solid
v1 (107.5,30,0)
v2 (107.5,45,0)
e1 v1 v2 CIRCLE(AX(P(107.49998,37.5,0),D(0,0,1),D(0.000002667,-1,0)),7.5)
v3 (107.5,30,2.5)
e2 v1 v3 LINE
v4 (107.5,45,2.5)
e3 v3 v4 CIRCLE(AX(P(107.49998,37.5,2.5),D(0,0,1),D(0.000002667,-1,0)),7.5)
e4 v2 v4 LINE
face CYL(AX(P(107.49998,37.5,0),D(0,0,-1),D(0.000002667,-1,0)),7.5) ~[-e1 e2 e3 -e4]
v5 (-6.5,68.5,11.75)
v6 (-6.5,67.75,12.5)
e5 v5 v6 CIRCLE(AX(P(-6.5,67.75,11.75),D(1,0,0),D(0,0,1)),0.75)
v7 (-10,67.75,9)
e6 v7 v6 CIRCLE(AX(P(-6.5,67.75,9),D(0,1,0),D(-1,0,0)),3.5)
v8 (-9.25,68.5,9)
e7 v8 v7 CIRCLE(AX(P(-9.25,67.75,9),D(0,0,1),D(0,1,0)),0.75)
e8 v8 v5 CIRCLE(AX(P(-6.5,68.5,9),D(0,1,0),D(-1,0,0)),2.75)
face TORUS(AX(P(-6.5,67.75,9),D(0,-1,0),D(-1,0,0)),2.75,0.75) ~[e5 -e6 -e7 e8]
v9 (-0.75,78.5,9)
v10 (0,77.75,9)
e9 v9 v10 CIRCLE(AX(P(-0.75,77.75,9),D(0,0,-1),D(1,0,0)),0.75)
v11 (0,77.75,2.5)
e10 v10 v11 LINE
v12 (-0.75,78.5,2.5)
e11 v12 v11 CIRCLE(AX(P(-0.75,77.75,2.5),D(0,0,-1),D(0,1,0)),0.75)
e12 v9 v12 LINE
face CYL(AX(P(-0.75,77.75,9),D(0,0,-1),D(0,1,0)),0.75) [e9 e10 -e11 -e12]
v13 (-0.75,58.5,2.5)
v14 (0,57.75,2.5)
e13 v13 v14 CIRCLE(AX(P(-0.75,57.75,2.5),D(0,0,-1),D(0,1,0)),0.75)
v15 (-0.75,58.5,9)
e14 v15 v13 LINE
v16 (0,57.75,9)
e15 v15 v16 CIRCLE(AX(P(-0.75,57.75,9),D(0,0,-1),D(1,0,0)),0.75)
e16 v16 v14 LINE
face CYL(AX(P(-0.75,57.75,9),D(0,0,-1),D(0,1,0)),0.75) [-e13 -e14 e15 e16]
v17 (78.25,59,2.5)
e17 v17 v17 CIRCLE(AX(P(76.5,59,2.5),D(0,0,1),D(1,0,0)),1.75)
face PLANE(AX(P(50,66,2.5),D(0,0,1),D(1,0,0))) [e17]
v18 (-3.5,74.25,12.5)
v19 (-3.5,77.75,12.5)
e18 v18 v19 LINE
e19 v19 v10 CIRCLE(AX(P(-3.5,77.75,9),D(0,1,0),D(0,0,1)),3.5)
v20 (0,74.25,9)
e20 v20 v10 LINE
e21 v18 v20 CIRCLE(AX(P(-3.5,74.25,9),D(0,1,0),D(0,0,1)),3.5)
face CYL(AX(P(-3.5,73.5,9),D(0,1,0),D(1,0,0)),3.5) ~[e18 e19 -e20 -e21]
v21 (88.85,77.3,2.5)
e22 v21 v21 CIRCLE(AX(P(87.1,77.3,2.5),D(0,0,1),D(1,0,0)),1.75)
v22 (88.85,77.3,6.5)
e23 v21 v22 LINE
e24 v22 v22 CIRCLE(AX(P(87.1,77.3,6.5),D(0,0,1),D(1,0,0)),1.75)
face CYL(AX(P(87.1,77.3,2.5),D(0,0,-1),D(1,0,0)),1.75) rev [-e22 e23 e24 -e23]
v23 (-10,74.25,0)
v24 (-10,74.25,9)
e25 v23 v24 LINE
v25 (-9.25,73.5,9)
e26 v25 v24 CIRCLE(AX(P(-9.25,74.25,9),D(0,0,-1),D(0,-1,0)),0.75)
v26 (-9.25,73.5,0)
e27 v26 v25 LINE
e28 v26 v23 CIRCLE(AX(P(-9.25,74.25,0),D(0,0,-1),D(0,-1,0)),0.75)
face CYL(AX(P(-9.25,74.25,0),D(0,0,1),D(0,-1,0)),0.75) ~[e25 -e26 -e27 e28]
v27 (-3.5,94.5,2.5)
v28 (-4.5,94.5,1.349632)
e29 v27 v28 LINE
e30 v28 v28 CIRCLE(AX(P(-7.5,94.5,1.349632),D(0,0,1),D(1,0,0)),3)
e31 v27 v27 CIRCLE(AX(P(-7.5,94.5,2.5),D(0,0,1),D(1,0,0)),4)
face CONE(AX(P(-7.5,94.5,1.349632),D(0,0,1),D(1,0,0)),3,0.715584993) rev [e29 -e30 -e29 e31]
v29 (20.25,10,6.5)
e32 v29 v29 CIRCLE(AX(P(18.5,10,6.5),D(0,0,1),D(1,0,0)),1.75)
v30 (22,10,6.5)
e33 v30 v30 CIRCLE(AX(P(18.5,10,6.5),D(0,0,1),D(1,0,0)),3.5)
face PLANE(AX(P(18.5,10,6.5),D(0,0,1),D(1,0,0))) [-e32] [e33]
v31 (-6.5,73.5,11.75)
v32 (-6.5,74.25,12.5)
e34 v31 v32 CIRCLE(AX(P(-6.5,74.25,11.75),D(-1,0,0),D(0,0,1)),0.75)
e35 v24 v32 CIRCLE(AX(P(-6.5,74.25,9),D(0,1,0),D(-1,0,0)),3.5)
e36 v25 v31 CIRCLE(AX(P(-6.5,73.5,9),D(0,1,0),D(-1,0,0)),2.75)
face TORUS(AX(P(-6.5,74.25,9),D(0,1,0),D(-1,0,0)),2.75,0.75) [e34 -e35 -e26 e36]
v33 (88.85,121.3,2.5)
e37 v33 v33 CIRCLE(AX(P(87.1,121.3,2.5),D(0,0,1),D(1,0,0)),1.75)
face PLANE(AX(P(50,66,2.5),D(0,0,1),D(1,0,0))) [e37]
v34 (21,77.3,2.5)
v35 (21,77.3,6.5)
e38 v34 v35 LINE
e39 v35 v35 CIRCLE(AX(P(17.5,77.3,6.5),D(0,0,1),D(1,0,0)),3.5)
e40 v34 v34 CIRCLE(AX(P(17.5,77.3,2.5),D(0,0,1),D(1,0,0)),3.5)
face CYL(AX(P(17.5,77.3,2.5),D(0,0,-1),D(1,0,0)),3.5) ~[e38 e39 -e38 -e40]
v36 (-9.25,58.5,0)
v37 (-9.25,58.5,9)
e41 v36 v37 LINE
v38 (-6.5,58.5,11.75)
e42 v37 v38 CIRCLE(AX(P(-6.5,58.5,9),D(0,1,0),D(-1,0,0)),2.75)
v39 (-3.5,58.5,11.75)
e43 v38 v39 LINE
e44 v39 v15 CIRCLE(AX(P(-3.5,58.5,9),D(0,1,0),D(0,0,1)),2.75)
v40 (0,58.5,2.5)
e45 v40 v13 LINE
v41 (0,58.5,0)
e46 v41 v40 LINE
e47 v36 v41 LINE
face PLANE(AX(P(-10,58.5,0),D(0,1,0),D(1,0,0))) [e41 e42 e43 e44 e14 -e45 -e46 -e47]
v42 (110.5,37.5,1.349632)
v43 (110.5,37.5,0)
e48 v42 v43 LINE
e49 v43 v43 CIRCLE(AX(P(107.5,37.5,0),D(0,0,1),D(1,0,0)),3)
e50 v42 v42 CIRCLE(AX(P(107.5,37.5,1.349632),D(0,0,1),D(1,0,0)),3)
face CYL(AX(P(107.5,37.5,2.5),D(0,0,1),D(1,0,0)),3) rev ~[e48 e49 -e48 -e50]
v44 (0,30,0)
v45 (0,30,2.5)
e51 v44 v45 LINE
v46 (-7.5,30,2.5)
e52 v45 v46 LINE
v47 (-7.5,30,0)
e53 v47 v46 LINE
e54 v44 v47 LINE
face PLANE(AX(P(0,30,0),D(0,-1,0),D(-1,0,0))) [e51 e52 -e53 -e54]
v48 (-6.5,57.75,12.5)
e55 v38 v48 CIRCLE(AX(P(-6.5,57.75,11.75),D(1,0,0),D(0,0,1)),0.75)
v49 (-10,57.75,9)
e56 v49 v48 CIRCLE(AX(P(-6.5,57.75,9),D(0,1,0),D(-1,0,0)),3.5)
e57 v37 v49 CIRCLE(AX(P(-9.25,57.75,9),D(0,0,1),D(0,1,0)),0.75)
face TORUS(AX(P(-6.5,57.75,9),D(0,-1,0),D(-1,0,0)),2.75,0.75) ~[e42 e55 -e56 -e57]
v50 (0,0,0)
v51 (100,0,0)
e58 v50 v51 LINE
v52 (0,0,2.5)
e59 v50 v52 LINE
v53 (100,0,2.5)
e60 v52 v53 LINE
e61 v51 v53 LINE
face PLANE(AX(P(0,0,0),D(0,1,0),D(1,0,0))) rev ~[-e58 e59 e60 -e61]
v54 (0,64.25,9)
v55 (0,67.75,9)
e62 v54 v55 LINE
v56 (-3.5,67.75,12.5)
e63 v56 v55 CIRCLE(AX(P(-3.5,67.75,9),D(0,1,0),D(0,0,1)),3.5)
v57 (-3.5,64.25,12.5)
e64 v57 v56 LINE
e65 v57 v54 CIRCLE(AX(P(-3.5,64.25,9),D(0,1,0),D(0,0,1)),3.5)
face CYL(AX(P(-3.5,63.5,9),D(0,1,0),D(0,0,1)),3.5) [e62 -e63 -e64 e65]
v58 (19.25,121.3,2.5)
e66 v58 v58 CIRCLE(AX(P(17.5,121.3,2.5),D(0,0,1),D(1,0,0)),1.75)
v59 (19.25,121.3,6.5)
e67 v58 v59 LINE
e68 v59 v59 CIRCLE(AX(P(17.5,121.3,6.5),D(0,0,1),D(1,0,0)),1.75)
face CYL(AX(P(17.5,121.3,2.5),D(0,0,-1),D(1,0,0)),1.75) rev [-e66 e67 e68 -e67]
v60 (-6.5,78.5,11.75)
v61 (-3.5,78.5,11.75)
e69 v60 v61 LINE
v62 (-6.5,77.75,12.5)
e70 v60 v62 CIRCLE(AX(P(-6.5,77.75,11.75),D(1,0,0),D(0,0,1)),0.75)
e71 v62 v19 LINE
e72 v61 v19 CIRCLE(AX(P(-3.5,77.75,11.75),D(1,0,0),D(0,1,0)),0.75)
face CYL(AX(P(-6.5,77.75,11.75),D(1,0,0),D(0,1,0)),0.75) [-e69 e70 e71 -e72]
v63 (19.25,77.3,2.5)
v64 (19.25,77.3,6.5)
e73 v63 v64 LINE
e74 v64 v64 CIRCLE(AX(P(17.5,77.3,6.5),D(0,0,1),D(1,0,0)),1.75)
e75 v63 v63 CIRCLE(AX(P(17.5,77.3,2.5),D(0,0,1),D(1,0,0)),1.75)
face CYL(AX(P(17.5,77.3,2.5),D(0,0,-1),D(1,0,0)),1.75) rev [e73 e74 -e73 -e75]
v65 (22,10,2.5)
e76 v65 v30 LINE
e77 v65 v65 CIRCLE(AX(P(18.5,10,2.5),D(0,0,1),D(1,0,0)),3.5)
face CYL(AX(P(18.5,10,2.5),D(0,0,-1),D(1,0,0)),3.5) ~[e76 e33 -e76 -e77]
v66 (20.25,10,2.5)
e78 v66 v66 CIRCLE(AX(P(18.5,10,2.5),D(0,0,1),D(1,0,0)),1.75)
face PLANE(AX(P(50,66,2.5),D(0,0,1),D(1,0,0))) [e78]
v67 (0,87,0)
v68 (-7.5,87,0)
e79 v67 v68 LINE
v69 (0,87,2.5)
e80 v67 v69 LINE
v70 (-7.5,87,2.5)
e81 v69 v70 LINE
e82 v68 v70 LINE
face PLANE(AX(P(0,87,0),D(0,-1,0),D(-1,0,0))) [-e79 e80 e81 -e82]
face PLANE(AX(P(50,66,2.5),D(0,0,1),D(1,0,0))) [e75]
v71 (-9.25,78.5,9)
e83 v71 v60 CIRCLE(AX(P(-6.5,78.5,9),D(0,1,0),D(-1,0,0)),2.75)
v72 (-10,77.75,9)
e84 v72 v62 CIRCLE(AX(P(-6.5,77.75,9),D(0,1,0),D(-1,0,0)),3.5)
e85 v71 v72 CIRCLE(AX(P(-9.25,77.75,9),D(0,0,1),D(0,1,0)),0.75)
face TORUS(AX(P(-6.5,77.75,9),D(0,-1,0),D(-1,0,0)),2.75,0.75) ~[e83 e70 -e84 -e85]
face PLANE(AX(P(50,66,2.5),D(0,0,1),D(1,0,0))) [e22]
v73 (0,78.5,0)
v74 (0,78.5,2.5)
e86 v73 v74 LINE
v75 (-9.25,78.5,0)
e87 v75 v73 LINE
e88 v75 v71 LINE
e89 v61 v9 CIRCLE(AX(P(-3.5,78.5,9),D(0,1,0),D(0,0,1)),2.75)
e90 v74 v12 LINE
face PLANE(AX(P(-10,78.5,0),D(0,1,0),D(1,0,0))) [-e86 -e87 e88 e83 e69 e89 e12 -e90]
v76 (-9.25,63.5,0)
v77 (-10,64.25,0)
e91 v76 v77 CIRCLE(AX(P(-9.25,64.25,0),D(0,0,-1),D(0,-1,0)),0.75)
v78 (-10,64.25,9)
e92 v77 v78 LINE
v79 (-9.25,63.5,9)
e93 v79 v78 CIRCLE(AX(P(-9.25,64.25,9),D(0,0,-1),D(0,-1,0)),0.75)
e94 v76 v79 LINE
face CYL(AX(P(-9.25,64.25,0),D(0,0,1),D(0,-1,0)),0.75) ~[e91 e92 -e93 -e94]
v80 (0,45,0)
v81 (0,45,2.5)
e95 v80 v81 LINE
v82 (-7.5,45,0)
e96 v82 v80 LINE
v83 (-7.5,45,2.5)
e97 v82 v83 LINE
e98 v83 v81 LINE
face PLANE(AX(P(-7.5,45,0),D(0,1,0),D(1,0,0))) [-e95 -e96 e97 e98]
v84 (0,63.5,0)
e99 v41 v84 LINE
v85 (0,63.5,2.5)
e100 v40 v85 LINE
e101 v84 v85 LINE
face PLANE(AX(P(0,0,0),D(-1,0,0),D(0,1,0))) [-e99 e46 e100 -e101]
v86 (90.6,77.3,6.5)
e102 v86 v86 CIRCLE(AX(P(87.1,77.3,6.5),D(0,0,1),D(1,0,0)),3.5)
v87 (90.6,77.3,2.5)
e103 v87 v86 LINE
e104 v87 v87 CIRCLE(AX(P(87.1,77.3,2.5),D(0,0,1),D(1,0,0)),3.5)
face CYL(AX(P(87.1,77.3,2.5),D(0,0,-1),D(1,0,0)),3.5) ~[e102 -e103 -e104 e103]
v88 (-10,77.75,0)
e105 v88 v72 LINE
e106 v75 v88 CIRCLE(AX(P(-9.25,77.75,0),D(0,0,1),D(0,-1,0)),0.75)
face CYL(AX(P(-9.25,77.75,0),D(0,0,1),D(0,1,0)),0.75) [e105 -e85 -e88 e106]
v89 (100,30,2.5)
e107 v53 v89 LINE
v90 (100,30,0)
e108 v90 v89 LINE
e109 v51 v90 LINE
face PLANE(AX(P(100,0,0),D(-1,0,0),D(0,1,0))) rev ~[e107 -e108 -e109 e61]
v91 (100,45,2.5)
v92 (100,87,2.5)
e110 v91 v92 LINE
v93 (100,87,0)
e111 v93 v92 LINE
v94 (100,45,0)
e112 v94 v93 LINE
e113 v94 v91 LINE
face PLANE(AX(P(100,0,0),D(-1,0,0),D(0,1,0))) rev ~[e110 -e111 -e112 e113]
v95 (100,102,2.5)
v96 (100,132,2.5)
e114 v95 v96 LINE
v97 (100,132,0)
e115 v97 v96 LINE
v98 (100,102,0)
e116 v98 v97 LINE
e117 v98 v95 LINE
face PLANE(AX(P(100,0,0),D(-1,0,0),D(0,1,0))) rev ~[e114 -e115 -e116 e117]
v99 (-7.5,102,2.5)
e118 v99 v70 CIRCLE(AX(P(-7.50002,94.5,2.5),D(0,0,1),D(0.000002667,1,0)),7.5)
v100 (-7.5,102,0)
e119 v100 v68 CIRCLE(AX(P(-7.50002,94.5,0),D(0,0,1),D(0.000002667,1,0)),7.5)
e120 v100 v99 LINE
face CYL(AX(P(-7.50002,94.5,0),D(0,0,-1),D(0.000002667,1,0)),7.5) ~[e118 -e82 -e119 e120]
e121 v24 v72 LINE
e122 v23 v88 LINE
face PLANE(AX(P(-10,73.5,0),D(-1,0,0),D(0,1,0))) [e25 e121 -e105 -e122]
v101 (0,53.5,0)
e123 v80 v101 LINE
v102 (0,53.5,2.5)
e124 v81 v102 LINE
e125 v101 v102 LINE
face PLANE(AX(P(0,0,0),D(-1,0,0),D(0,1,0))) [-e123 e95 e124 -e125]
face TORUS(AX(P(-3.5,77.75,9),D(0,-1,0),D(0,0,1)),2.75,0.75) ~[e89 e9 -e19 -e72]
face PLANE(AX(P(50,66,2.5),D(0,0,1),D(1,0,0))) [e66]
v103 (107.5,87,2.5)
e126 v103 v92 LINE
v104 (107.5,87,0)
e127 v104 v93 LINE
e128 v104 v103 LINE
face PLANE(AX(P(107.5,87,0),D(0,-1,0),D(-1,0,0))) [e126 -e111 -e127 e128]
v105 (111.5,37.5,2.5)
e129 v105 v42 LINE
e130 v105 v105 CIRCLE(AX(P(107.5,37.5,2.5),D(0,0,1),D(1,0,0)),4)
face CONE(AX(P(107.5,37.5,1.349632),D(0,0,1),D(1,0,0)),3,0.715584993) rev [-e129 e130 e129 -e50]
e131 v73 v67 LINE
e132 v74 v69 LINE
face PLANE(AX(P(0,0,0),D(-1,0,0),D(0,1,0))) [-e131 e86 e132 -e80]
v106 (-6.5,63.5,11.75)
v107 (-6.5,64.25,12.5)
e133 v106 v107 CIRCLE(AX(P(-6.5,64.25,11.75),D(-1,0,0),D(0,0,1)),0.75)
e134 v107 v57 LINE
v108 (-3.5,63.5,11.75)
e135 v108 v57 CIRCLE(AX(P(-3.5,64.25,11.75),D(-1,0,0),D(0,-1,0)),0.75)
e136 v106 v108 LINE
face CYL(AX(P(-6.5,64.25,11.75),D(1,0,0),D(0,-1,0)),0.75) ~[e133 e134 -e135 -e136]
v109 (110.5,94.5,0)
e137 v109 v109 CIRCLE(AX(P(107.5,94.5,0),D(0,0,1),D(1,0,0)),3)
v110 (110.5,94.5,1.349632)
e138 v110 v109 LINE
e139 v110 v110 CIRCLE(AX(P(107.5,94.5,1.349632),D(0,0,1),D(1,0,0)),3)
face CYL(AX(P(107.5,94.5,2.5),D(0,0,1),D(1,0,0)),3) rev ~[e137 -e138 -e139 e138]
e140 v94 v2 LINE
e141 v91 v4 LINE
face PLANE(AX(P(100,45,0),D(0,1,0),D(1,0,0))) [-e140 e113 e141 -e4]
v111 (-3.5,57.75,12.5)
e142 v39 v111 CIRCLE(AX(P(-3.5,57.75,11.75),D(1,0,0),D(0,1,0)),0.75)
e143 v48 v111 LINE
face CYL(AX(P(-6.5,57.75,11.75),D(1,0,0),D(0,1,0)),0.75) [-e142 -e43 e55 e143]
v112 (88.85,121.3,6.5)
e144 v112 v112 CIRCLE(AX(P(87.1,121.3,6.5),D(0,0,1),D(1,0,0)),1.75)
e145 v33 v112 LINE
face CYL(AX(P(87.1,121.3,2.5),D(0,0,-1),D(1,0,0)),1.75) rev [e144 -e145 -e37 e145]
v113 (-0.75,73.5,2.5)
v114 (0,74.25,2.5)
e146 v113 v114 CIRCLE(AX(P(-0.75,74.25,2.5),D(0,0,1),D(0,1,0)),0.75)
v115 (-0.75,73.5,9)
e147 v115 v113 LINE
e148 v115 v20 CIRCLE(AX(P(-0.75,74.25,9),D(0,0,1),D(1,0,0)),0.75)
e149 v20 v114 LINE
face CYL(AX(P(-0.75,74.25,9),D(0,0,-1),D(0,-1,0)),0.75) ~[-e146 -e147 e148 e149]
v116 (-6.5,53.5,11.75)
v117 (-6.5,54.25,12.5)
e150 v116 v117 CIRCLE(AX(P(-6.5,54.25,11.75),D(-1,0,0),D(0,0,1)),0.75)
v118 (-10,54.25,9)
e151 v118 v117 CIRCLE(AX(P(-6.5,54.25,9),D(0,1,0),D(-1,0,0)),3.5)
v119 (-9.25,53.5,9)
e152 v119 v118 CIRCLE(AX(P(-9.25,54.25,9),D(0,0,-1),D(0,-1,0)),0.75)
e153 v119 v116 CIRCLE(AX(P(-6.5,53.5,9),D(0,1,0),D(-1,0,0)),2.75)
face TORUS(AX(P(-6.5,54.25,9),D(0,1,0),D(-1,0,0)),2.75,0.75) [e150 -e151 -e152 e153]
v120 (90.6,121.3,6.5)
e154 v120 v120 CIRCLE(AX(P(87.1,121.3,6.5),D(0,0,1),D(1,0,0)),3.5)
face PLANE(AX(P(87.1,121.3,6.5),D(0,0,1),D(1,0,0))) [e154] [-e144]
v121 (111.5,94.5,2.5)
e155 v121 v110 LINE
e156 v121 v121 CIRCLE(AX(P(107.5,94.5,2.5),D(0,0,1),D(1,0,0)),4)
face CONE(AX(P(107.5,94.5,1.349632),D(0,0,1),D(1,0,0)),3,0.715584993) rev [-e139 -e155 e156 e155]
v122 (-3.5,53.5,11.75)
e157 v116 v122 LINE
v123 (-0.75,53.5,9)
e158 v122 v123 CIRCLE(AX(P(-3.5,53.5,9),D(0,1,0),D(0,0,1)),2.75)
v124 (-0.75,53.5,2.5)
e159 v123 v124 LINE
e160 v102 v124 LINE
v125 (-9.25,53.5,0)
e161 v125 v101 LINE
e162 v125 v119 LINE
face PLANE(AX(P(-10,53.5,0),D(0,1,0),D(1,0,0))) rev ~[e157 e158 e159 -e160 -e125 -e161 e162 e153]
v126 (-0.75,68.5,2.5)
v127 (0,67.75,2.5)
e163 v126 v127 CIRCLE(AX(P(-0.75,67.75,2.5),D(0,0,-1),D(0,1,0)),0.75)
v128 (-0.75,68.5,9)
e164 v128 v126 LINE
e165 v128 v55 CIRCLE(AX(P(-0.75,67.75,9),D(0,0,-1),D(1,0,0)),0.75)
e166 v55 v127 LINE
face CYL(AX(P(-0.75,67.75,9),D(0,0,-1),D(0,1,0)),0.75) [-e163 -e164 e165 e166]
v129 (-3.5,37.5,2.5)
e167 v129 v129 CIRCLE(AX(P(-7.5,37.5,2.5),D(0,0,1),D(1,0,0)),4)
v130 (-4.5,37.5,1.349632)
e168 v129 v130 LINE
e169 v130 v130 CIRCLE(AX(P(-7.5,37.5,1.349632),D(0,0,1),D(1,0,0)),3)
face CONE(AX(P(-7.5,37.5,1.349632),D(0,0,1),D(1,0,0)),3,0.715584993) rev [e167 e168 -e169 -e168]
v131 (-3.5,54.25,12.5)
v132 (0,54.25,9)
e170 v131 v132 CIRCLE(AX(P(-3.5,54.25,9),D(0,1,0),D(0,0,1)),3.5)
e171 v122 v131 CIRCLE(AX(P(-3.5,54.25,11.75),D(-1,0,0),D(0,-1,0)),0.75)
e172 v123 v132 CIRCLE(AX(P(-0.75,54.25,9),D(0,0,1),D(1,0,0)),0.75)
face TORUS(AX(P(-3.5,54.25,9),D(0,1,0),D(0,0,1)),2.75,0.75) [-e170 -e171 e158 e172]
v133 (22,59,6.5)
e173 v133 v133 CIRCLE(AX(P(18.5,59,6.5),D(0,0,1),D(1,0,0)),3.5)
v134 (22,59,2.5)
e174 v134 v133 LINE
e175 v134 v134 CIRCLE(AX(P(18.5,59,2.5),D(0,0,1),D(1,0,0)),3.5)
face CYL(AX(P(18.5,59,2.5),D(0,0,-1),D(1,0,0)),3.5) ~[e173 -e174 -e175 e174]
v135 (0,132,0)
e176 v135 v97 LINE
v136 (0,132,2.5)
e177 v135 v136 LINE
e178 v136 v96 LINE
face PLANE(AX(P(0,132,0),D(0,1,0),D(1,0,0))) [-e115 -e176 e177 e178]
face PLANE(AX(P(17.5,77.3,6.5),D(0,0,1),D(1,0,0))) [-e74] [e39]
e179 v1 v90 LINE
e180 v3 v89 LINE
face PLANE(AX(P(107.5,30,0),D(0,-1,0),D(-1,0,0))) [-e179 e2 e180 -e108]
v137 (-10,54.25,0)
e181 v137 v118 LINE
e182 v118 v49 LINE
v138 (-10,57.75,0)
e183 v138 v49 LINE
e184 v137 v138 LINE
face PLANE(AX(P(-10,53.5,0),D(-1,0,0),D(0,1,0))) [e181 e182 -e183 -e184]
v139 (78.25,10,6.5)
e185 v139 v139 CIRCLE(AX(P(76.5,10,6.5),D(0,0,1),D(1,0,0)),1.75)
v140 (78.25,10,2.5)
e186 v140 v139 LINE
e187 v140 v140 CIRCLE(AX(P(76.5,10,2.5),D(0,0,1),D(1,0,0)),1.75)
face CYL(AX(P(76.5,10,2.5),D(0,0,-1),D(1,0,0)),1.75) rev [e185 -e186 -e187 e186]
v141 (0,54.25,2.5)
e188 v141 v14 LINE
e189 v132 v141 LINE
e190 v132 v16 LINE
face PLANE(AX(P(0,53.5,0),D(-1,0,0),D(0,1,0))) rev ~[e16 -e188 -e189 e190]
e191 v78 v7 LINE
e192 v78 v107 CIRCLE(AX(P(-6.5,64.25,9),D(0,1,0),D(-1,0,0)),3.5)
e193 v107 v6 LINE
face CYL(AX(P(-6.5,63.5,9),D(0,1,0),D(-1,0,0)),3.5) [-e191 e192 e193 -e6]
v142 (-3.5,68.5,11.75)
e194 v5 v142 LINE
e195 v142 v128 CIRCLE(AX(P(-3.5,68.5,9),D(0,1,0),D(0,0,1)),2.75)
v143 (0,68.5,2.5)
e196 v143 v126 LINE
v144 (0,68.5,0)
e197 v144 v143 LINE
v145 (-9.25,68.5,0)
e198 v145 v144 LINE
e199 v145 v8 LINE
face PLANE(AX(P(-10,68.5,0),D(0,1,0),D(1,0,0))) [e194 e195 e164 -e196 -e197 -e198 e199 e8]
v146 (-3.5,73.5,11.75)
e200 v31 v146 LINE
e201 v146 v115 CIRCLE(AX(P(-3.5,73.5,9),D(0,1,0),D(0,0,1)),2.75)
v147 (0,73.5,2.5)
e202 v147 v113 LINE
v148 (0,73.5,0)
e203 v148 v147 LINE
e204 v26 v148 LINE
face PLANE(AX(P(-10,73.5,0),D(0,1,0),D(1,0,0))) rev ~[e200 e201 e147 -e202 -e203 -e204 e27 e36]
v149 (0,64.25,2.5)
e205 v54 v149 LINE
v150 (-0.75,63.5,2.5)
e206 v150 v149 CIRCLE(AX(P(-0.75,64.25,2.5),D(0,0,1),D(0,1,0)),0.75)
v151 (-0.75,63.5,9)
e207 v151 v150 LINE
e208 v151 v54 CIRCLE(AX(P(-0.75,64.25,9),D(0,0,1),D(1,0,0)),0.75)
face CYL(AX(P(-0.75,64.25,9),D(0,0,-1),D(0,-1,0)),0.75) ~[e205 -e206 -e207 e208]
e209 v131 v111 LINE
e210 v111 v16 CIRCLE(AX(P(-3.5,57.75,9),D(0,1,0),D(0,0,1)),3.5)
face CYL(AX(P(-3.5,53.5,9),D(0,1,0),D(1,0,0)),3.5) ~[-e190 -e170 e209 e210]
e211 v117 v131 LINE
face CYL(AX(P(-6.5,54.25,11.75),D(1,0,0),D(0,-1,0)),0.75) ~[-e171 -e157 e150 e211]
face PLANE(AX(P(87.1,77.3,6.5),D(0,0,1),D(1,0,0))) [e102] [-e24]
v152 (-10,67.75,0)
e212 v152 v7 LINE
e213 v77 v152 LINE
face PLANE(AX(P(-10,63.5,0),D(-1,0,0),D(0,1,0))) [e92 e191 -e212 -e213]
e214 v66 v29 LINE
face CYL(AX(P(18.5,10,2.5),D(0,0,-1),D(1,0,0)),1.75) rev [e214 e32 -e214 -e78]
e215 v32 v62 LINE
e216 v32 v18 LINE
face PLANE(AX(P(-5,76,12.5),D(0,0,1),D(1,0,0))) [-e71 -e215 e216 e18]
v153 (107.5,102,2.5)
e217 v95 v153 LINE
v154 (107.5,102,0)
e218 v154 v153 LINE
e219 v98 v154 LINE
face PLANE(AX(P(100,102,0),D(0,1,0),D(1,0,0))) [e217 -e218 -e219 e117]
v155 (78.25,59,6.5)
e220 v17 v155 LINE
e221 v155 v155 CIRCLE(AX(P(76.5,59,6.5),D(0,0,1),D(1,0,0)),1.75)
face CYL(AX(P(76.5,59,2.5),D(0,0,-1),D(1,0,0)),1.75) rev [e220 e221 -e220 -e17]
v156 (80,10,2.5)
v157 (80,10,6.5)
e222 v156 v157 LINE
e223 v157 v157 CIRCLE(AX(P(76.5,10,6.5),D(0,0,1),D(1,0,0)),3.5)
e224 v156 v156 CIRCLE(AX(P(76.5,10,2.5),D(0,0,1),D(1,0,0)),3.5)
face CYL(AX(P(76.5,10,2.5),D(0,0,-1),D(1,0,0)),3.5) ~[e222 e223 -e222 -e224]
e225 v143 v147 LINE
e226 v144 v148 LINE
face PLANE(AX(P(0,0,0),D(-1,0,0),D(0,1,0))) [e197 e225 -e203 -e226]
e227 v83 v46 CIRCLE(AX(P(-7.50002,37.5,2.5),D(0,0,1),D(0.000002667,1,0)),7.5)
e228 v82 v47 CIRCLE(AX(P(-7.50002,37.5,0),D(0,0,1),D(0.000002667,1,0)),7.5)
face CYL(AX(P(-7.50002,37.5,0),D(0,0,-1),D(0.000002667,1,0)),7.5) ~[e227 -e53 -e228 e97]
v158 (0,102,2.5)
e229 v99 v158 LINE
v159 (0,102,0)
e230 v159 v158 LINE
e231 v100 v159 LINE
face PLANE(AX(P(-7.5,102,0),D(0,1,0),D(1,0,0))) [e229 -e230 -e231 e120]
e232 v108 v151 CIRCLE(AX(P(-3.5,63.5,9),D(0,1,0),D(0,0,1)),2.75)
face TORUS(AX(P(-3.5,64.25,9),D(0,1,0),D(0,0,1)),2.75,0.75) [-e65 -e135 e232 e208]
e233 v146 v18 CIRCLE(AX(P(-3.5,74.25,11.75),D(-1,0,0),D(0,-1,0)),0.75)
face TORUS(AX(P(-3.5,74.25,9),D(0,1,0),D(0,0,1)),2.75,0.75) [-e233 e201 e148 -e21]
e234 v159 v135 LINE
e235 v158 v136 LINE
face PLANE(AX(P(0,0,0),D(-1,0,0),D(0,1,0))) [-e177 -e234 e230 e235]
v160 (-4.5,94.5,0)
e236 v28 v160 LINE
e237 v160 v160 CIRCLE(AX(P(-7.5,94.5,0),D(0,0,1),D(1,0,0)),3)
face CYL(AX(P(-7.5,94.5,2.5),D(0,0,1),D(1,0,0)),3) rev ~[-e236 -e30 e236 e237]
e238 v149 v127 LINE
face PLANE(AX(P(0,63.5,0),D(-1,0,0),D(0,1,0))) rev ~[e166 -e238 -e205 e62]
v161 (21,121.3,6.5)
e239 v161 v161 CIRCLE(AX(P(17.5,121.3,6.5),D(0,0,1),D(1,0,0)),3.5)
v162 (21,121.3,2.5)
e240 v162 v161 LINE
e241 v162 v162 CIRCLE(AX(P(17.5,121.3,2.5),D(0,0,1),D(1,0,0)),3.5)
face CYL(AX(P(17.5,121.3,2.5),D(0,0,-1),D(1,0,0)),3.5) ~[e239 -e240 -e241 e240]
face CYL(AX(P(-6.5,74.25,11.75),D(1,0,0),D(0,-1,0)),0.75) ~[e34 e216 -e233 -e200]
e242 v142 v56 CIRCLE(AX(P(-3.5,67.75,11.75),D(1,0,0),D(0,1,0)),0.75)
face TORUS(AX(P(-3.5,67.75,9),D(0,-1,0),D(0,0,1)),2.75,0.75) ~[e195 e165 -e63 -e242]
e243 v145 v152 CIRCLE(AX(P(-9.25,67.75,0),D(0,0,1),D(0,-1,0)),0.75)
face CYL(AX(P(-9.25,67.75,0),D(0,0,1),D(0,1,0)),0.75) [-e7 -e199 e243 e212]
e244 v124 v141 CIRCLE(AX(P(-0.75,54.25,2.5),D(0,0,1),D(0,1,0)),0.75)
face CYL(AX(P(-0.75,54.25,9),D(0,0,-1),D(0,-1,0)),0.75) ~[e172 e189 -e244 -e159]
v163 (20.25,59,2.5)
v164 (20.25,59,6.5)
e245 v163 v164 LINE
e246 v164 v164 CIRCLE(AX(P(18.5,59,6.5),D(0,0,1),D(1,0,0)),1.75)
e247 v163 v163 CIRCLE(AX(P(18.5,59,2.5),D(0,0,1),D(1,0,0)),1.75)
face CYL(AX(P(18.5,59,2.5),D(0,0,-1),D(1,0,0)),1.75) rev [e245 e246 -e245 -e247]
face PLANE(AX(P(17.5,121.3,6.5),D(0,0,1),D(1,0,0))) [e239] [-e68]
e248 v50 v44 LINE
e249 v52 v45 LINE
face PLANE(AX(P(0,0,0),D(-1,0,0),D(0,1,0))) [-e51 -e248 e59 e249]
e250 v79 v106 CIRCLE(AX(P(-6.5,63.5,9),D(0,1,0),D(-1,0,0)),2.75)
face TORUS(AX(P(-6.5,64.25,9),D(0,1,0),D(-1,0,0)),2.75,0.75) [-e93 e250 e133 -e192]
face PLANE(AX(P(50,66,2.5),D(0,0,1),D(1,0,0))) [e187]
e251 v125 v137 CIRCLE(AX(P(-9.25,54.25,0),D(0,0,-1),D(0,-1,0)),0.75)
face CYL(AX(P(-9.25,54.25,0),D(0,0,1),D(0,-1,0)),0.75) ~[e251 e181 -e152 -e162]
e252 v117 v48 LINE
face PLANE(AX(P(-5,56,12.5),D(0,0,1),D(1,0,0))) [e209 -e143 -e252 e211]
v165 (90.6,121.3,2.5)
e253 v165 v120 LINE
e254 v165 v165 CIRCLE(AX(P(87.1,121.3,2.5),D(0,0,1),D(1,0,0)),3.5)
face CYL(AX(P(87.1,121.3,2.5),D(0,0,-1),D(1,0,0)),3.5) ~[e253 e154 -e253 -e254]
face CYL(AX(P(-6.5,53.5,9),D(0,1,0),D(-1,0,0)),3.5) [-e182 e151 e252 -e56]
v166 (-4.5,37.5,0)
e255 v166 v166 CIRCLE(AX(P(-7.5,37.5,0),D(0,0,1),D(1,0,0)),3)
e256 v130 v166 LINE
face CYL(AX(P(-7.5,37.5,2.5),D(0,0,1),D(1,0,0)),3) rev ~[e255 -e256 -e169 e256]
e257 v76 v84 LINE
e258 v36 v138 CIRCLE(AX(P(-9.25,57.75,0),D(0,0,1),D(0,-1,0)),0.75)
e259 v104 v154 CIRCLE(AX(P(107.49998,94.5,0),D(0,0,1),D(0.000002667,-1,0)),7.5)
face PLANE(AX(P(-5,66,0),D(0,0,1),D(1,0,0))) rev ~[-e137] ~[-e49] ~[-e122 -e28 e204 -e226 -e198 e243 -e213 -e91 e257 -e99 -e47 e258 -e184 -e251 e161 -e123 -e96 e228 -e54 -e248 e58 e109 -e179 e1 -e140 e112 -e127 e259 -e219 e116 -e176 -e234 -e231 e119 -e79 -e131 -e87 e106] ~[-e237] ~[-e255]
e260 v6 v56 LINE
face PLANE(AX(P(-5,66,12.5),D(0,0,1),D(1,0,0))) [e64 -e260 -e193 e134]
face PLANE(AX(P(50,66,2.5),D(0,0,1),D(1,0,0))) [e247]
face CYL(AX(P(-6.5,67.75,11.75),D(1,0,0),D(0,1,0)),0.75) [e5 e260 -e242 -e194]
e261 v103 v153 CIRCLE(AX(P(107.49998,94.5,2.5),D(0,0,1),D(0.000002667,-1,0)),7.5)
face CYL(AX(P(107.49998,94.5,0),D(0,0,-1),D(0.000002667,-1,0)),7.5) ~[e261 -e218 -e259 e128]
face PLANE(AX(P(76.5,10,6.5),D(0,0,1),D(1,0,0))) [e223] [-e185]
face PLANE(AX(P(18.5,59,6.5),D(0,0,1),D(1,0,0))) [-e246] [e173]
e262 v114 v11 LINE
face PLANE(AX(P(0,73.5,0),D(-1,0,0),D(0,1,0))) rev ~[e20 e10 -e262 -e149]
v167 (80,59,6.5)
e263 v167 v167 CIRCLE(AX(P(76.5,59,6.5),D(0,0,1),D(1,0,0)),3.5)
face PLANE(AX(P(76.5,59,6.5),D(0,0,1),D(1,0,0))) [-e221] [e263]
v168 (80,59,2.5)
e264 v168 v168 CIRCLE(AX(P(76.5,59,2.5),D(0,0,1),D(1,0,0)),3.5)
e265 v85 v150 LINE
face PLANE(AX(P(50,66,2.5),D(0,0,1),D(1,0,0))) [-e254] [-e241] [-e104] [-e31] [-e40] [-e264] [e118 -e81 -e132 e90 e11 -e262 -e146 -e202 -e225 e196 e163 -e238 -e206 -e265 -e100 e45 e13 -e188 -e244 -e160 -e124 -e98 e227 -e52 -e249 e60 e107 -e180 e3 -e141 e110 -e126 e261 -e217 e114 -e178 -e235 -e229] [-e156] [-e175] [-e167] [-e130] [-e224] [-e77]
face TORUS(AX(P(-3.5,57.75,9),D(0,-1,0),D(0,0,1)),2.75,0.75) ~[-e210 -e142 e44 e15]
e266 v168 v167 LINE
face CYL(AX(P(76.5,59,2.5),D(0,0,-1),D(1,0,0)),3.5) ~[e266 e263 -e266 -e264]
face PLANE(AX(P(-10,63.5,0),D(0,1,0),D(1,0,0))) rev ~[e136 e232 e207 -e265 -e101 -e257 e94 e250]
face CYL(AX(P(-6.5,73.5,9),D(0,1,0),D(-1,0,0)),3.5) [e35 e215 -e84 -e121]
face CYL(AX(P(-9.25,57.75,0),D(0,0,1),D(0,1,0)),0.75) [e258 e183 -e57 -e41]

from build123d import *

# Parameters (mm, degrees)
SKETCH001_W     = 100
SKETCH001_H     = 132
PAD_DEPTH       = 2.5
SKETCH002_R     = 3.5
SKETCH002_R_2   = 1.75
PAD001_DEPTH    = 4
PAD002_DEPTH    = 2.5
SKETCH004_R     = 3
HOLE_DEPTH      = 25
CHAMFER_1_ANGLE = 49
CHAMFER_1_SIZE  = 1
CHAMFER_2_ANGLE = 49
CHAMFER_2_SIZE  = 1
CHAMFER_3_ANGLE = 49
CHAMFER_3_SIZE  = 1
CHAMFER_4_ANGLE = 49
CHAMFER_4_SIZE  = 1
SKETCH005_W     = 10
SKETCH005_H     = 5
PAD003_DEPTH    = 12.5
FILLET_R        = 3.5
FILLET001_R     = 0.75


with BuildPart() as part:
    # Sketch001 → Pad (new body)
    with BuildSketch(Plane.XY):
        with Locations((50, 66)):
            Rectangle(SKETCH001_W, SKETCH001_H)
    extrude(amount=PAD_DEPTH)

    # Sketch002 (on Face6 of Pad) → Pad001 (join)
    with BuildSketch(Plane.XY.offset(2.5)):
        with Locations((76.5, 10)):
            Circle(SKETCH002_R)
        with Locations((76.5, 10)):
            Circle(SKETCH002_R_2, mode=Mode.SUBTRACT)
        with Locations((18.5, 10)):
            Circle(SKETCH002_R)
        with Locations((18.5, 10)):
            Circle(SKETCH002_R_2, mode=Mode.SUBTRACT)
        with Locations((18.5, 59)):
            Circle(SKETCH002_R)
        with Locations((18.5, 59)):
            Circle(SKETCH002_R_2, mode=Mode.SUBTRACT)
        with Locations((76.5, 59)):
            Circle(SKETCH002_R)
        with Locations((76.5, 59)):
            Circle(SKETCH002_R_2, mode=Mode.SUBTRACT)
        with Locations((87.1, 77.3)):
            Circle(SKETCH002_R)
        with Locations((87.1, 77.3)):
            Circle(SKETCH002_R_2, mode=Mode.SUBTRACT)
        with Locations((17.5, 77.3)):
            Circle(SKETCH002_R)
        with Locations((17.5, 77.3)):
            Circle(SKETCH002_R_2, mode=Mode.SUBTRACT)
        with Locations((17.5, 121.3)):
            Circle(SKETCH002_R)
        with Locations((17.5, 121.3)):
            Circle(SKETCH002_R_2, mode=Mode.SUBTRACT)
        with Locations((87.1, 121.3)):
            Circle(SKETCH002_R)
        with Locations((87.1, 121.3)):
            Circle(SKETCH002_R_2, mode=Mode.SUBTRACT)
    extrude(amount=PAD001_DEPTH)

    # Sketch003 → Pad002 (join)
    with BuildSketch(Plane.XY):
        with BuildLine():
            Line((-7.5, 102), (0, 102))
            Line((0, 102), (0, 87))
            Line((0, 87), (-7.5, 87))
            ThreePointArc((-7.5, 102), (-15.00002, 94.5), (-7.5, 87))
        make_face()
        with BuildLine():
            Line((-7.5, 45), (0, 45))
            Line((0, 45), (0, 30))
            Line((0, 30), (-7.5, 30))
            ThreePointArc((-7.5, 45), (-15.00002, 37.5), (-7.5, 30))
        make_face()
        with BuildLine():
            Line((100, 102), (107.5, 102))
            ThreePointArc((107.5, 87), (114.99998, 94.5), (107.5, 102))
            Line((107.5, 87), (100, 87))
            Line((100, 87), (100, 102))
        make_face()
        with BuildLine():
            Line((100, 45), (107.5, 45))
            ThreePointArc((107.5, 30), (114.99998, 37.5), (107.5, 45))
            Line((107.5, 30), (100, 30))
            Line((100, 30), (100, 45))
        make_face()
    extrude(amount=PAD002_DEPTH)

    # Sketch004 (on Face18 of Pad002) → Hole (cut)
    with BuildSketch(Plane.XY.offset(2.5)):
        with Locations((-7.5, 94.5)):
            Circle(SKETCH004_R)
        with Locations((107.5, 94.5)):
            Circle(SKETCH004_R)
        with Locations((107.5, 37.5)):
            Circle(SKETCH004_R)
        with Locations((-7.5, 37.5)):
            Circle(SKETCH004_R)
    extrude(amount=-HOLE_DEPTH, mode=Mode.SUBTRACT)

    # Chamfer 1
    chamfer_1_edges = [part.edges().sort_by_distance(p)[0] for p in [
        (104.5, 94.5, 2.5),
    ]]
    chamfer_1_side = part.faces().sort_by_distance((103.75, 87.212132, 2.5))[0]
    chamfer(chamfer_1_edges, length=CHAMFER_1_SIZE, angle=CHAMFER_1_ANGLE, reference=chamfer_1_side)

    # Chamfer 2
    chamfer_2_edges = [part.edges().sort_by_distance(p)[0] for p in [
        (104.5, 37.5, 2.5),
    ]]
    chamfer_2_side = part.faces().sort_by_distance((103.75, 30.212132, 2.5))[0]
    chamfer(chamfer_2_edges, length=CHAMFER_2_SIZE, angle=CHAMFER_2_ANGLE, reference=chamfer_2_side)

    # Chamfer 3
    chamfer_3_edges = [part.edges().sort_by_distance(p)[0] for p in [
        (-10.5, 37.5, 2.5),
    ]]
    chamfer_3_side = part.faces().sort_by_distance((-3.75, 44.787868, 2.5))[0]
    chamfer(chamfer_3_edges, length=CHAMFER_3_SIZE, angle=CHAMFER_3_ANGLE, reference=chamfer_3_side)

    # Chamfer 4
    chamfer_4_edges = [part.edges().sort_by_distance(p)[0] for p in [
        (-10.5, 94.5, 2.5),
    ]]
    chamfer_4_side = part.faces().sort_by_distance((-3.75, 101.787868, 2.5))[0]
    chamfer(chamfer_4_edges, length=CHAMFER_4_SIZE, angle=CHAMFER_4_ANGLE, reference=chamfer_4_side)

    # Sketch005 → Pad003 (join)
    with BuildSketch(Plane.XY):
        with Locations((-5, 66)):
            Rectangle(SKETCH005_W, SKETCH005_H)
        with Locations((-5, 76)):
            Rectangle(SKETCH005_W, SKETCH005_H)
        with Locations((-5, 56)):
            Rectangle(SKETCH005_W, SKETCH005_H)
    extrude(amount=PAD003_DEPTH)

    # Fillet
    fillet_edges = [part.edges().sort_by_distance(p)[0] for p in [
        (0, 56, 12.5),
        (-10, 56, 12.5),
        (-10, 66, 12.5),
        (0, 66, 12.5),
        (-10, 76, 12.5),
        (0, 76, 12.5),
    ]]
    fillet(fillet_edges, radius=FILLET_R)

    # Fillet001
    fillet001_edges = [part.edges().sort_by_distance(p)[0] for p in [
        (-5, 53.5, 12.5),
        (-5, 58.5, 12.5),
        (-5, 63.5, 12.5),
        (-5, 68.5, 12.5),
        (-5, 73.5, 12.5),
        (-5, 78.5, 12.5),
    ]]
    fillet(fillet001_edges, radius=FILLET001_R)


solid = part.part
